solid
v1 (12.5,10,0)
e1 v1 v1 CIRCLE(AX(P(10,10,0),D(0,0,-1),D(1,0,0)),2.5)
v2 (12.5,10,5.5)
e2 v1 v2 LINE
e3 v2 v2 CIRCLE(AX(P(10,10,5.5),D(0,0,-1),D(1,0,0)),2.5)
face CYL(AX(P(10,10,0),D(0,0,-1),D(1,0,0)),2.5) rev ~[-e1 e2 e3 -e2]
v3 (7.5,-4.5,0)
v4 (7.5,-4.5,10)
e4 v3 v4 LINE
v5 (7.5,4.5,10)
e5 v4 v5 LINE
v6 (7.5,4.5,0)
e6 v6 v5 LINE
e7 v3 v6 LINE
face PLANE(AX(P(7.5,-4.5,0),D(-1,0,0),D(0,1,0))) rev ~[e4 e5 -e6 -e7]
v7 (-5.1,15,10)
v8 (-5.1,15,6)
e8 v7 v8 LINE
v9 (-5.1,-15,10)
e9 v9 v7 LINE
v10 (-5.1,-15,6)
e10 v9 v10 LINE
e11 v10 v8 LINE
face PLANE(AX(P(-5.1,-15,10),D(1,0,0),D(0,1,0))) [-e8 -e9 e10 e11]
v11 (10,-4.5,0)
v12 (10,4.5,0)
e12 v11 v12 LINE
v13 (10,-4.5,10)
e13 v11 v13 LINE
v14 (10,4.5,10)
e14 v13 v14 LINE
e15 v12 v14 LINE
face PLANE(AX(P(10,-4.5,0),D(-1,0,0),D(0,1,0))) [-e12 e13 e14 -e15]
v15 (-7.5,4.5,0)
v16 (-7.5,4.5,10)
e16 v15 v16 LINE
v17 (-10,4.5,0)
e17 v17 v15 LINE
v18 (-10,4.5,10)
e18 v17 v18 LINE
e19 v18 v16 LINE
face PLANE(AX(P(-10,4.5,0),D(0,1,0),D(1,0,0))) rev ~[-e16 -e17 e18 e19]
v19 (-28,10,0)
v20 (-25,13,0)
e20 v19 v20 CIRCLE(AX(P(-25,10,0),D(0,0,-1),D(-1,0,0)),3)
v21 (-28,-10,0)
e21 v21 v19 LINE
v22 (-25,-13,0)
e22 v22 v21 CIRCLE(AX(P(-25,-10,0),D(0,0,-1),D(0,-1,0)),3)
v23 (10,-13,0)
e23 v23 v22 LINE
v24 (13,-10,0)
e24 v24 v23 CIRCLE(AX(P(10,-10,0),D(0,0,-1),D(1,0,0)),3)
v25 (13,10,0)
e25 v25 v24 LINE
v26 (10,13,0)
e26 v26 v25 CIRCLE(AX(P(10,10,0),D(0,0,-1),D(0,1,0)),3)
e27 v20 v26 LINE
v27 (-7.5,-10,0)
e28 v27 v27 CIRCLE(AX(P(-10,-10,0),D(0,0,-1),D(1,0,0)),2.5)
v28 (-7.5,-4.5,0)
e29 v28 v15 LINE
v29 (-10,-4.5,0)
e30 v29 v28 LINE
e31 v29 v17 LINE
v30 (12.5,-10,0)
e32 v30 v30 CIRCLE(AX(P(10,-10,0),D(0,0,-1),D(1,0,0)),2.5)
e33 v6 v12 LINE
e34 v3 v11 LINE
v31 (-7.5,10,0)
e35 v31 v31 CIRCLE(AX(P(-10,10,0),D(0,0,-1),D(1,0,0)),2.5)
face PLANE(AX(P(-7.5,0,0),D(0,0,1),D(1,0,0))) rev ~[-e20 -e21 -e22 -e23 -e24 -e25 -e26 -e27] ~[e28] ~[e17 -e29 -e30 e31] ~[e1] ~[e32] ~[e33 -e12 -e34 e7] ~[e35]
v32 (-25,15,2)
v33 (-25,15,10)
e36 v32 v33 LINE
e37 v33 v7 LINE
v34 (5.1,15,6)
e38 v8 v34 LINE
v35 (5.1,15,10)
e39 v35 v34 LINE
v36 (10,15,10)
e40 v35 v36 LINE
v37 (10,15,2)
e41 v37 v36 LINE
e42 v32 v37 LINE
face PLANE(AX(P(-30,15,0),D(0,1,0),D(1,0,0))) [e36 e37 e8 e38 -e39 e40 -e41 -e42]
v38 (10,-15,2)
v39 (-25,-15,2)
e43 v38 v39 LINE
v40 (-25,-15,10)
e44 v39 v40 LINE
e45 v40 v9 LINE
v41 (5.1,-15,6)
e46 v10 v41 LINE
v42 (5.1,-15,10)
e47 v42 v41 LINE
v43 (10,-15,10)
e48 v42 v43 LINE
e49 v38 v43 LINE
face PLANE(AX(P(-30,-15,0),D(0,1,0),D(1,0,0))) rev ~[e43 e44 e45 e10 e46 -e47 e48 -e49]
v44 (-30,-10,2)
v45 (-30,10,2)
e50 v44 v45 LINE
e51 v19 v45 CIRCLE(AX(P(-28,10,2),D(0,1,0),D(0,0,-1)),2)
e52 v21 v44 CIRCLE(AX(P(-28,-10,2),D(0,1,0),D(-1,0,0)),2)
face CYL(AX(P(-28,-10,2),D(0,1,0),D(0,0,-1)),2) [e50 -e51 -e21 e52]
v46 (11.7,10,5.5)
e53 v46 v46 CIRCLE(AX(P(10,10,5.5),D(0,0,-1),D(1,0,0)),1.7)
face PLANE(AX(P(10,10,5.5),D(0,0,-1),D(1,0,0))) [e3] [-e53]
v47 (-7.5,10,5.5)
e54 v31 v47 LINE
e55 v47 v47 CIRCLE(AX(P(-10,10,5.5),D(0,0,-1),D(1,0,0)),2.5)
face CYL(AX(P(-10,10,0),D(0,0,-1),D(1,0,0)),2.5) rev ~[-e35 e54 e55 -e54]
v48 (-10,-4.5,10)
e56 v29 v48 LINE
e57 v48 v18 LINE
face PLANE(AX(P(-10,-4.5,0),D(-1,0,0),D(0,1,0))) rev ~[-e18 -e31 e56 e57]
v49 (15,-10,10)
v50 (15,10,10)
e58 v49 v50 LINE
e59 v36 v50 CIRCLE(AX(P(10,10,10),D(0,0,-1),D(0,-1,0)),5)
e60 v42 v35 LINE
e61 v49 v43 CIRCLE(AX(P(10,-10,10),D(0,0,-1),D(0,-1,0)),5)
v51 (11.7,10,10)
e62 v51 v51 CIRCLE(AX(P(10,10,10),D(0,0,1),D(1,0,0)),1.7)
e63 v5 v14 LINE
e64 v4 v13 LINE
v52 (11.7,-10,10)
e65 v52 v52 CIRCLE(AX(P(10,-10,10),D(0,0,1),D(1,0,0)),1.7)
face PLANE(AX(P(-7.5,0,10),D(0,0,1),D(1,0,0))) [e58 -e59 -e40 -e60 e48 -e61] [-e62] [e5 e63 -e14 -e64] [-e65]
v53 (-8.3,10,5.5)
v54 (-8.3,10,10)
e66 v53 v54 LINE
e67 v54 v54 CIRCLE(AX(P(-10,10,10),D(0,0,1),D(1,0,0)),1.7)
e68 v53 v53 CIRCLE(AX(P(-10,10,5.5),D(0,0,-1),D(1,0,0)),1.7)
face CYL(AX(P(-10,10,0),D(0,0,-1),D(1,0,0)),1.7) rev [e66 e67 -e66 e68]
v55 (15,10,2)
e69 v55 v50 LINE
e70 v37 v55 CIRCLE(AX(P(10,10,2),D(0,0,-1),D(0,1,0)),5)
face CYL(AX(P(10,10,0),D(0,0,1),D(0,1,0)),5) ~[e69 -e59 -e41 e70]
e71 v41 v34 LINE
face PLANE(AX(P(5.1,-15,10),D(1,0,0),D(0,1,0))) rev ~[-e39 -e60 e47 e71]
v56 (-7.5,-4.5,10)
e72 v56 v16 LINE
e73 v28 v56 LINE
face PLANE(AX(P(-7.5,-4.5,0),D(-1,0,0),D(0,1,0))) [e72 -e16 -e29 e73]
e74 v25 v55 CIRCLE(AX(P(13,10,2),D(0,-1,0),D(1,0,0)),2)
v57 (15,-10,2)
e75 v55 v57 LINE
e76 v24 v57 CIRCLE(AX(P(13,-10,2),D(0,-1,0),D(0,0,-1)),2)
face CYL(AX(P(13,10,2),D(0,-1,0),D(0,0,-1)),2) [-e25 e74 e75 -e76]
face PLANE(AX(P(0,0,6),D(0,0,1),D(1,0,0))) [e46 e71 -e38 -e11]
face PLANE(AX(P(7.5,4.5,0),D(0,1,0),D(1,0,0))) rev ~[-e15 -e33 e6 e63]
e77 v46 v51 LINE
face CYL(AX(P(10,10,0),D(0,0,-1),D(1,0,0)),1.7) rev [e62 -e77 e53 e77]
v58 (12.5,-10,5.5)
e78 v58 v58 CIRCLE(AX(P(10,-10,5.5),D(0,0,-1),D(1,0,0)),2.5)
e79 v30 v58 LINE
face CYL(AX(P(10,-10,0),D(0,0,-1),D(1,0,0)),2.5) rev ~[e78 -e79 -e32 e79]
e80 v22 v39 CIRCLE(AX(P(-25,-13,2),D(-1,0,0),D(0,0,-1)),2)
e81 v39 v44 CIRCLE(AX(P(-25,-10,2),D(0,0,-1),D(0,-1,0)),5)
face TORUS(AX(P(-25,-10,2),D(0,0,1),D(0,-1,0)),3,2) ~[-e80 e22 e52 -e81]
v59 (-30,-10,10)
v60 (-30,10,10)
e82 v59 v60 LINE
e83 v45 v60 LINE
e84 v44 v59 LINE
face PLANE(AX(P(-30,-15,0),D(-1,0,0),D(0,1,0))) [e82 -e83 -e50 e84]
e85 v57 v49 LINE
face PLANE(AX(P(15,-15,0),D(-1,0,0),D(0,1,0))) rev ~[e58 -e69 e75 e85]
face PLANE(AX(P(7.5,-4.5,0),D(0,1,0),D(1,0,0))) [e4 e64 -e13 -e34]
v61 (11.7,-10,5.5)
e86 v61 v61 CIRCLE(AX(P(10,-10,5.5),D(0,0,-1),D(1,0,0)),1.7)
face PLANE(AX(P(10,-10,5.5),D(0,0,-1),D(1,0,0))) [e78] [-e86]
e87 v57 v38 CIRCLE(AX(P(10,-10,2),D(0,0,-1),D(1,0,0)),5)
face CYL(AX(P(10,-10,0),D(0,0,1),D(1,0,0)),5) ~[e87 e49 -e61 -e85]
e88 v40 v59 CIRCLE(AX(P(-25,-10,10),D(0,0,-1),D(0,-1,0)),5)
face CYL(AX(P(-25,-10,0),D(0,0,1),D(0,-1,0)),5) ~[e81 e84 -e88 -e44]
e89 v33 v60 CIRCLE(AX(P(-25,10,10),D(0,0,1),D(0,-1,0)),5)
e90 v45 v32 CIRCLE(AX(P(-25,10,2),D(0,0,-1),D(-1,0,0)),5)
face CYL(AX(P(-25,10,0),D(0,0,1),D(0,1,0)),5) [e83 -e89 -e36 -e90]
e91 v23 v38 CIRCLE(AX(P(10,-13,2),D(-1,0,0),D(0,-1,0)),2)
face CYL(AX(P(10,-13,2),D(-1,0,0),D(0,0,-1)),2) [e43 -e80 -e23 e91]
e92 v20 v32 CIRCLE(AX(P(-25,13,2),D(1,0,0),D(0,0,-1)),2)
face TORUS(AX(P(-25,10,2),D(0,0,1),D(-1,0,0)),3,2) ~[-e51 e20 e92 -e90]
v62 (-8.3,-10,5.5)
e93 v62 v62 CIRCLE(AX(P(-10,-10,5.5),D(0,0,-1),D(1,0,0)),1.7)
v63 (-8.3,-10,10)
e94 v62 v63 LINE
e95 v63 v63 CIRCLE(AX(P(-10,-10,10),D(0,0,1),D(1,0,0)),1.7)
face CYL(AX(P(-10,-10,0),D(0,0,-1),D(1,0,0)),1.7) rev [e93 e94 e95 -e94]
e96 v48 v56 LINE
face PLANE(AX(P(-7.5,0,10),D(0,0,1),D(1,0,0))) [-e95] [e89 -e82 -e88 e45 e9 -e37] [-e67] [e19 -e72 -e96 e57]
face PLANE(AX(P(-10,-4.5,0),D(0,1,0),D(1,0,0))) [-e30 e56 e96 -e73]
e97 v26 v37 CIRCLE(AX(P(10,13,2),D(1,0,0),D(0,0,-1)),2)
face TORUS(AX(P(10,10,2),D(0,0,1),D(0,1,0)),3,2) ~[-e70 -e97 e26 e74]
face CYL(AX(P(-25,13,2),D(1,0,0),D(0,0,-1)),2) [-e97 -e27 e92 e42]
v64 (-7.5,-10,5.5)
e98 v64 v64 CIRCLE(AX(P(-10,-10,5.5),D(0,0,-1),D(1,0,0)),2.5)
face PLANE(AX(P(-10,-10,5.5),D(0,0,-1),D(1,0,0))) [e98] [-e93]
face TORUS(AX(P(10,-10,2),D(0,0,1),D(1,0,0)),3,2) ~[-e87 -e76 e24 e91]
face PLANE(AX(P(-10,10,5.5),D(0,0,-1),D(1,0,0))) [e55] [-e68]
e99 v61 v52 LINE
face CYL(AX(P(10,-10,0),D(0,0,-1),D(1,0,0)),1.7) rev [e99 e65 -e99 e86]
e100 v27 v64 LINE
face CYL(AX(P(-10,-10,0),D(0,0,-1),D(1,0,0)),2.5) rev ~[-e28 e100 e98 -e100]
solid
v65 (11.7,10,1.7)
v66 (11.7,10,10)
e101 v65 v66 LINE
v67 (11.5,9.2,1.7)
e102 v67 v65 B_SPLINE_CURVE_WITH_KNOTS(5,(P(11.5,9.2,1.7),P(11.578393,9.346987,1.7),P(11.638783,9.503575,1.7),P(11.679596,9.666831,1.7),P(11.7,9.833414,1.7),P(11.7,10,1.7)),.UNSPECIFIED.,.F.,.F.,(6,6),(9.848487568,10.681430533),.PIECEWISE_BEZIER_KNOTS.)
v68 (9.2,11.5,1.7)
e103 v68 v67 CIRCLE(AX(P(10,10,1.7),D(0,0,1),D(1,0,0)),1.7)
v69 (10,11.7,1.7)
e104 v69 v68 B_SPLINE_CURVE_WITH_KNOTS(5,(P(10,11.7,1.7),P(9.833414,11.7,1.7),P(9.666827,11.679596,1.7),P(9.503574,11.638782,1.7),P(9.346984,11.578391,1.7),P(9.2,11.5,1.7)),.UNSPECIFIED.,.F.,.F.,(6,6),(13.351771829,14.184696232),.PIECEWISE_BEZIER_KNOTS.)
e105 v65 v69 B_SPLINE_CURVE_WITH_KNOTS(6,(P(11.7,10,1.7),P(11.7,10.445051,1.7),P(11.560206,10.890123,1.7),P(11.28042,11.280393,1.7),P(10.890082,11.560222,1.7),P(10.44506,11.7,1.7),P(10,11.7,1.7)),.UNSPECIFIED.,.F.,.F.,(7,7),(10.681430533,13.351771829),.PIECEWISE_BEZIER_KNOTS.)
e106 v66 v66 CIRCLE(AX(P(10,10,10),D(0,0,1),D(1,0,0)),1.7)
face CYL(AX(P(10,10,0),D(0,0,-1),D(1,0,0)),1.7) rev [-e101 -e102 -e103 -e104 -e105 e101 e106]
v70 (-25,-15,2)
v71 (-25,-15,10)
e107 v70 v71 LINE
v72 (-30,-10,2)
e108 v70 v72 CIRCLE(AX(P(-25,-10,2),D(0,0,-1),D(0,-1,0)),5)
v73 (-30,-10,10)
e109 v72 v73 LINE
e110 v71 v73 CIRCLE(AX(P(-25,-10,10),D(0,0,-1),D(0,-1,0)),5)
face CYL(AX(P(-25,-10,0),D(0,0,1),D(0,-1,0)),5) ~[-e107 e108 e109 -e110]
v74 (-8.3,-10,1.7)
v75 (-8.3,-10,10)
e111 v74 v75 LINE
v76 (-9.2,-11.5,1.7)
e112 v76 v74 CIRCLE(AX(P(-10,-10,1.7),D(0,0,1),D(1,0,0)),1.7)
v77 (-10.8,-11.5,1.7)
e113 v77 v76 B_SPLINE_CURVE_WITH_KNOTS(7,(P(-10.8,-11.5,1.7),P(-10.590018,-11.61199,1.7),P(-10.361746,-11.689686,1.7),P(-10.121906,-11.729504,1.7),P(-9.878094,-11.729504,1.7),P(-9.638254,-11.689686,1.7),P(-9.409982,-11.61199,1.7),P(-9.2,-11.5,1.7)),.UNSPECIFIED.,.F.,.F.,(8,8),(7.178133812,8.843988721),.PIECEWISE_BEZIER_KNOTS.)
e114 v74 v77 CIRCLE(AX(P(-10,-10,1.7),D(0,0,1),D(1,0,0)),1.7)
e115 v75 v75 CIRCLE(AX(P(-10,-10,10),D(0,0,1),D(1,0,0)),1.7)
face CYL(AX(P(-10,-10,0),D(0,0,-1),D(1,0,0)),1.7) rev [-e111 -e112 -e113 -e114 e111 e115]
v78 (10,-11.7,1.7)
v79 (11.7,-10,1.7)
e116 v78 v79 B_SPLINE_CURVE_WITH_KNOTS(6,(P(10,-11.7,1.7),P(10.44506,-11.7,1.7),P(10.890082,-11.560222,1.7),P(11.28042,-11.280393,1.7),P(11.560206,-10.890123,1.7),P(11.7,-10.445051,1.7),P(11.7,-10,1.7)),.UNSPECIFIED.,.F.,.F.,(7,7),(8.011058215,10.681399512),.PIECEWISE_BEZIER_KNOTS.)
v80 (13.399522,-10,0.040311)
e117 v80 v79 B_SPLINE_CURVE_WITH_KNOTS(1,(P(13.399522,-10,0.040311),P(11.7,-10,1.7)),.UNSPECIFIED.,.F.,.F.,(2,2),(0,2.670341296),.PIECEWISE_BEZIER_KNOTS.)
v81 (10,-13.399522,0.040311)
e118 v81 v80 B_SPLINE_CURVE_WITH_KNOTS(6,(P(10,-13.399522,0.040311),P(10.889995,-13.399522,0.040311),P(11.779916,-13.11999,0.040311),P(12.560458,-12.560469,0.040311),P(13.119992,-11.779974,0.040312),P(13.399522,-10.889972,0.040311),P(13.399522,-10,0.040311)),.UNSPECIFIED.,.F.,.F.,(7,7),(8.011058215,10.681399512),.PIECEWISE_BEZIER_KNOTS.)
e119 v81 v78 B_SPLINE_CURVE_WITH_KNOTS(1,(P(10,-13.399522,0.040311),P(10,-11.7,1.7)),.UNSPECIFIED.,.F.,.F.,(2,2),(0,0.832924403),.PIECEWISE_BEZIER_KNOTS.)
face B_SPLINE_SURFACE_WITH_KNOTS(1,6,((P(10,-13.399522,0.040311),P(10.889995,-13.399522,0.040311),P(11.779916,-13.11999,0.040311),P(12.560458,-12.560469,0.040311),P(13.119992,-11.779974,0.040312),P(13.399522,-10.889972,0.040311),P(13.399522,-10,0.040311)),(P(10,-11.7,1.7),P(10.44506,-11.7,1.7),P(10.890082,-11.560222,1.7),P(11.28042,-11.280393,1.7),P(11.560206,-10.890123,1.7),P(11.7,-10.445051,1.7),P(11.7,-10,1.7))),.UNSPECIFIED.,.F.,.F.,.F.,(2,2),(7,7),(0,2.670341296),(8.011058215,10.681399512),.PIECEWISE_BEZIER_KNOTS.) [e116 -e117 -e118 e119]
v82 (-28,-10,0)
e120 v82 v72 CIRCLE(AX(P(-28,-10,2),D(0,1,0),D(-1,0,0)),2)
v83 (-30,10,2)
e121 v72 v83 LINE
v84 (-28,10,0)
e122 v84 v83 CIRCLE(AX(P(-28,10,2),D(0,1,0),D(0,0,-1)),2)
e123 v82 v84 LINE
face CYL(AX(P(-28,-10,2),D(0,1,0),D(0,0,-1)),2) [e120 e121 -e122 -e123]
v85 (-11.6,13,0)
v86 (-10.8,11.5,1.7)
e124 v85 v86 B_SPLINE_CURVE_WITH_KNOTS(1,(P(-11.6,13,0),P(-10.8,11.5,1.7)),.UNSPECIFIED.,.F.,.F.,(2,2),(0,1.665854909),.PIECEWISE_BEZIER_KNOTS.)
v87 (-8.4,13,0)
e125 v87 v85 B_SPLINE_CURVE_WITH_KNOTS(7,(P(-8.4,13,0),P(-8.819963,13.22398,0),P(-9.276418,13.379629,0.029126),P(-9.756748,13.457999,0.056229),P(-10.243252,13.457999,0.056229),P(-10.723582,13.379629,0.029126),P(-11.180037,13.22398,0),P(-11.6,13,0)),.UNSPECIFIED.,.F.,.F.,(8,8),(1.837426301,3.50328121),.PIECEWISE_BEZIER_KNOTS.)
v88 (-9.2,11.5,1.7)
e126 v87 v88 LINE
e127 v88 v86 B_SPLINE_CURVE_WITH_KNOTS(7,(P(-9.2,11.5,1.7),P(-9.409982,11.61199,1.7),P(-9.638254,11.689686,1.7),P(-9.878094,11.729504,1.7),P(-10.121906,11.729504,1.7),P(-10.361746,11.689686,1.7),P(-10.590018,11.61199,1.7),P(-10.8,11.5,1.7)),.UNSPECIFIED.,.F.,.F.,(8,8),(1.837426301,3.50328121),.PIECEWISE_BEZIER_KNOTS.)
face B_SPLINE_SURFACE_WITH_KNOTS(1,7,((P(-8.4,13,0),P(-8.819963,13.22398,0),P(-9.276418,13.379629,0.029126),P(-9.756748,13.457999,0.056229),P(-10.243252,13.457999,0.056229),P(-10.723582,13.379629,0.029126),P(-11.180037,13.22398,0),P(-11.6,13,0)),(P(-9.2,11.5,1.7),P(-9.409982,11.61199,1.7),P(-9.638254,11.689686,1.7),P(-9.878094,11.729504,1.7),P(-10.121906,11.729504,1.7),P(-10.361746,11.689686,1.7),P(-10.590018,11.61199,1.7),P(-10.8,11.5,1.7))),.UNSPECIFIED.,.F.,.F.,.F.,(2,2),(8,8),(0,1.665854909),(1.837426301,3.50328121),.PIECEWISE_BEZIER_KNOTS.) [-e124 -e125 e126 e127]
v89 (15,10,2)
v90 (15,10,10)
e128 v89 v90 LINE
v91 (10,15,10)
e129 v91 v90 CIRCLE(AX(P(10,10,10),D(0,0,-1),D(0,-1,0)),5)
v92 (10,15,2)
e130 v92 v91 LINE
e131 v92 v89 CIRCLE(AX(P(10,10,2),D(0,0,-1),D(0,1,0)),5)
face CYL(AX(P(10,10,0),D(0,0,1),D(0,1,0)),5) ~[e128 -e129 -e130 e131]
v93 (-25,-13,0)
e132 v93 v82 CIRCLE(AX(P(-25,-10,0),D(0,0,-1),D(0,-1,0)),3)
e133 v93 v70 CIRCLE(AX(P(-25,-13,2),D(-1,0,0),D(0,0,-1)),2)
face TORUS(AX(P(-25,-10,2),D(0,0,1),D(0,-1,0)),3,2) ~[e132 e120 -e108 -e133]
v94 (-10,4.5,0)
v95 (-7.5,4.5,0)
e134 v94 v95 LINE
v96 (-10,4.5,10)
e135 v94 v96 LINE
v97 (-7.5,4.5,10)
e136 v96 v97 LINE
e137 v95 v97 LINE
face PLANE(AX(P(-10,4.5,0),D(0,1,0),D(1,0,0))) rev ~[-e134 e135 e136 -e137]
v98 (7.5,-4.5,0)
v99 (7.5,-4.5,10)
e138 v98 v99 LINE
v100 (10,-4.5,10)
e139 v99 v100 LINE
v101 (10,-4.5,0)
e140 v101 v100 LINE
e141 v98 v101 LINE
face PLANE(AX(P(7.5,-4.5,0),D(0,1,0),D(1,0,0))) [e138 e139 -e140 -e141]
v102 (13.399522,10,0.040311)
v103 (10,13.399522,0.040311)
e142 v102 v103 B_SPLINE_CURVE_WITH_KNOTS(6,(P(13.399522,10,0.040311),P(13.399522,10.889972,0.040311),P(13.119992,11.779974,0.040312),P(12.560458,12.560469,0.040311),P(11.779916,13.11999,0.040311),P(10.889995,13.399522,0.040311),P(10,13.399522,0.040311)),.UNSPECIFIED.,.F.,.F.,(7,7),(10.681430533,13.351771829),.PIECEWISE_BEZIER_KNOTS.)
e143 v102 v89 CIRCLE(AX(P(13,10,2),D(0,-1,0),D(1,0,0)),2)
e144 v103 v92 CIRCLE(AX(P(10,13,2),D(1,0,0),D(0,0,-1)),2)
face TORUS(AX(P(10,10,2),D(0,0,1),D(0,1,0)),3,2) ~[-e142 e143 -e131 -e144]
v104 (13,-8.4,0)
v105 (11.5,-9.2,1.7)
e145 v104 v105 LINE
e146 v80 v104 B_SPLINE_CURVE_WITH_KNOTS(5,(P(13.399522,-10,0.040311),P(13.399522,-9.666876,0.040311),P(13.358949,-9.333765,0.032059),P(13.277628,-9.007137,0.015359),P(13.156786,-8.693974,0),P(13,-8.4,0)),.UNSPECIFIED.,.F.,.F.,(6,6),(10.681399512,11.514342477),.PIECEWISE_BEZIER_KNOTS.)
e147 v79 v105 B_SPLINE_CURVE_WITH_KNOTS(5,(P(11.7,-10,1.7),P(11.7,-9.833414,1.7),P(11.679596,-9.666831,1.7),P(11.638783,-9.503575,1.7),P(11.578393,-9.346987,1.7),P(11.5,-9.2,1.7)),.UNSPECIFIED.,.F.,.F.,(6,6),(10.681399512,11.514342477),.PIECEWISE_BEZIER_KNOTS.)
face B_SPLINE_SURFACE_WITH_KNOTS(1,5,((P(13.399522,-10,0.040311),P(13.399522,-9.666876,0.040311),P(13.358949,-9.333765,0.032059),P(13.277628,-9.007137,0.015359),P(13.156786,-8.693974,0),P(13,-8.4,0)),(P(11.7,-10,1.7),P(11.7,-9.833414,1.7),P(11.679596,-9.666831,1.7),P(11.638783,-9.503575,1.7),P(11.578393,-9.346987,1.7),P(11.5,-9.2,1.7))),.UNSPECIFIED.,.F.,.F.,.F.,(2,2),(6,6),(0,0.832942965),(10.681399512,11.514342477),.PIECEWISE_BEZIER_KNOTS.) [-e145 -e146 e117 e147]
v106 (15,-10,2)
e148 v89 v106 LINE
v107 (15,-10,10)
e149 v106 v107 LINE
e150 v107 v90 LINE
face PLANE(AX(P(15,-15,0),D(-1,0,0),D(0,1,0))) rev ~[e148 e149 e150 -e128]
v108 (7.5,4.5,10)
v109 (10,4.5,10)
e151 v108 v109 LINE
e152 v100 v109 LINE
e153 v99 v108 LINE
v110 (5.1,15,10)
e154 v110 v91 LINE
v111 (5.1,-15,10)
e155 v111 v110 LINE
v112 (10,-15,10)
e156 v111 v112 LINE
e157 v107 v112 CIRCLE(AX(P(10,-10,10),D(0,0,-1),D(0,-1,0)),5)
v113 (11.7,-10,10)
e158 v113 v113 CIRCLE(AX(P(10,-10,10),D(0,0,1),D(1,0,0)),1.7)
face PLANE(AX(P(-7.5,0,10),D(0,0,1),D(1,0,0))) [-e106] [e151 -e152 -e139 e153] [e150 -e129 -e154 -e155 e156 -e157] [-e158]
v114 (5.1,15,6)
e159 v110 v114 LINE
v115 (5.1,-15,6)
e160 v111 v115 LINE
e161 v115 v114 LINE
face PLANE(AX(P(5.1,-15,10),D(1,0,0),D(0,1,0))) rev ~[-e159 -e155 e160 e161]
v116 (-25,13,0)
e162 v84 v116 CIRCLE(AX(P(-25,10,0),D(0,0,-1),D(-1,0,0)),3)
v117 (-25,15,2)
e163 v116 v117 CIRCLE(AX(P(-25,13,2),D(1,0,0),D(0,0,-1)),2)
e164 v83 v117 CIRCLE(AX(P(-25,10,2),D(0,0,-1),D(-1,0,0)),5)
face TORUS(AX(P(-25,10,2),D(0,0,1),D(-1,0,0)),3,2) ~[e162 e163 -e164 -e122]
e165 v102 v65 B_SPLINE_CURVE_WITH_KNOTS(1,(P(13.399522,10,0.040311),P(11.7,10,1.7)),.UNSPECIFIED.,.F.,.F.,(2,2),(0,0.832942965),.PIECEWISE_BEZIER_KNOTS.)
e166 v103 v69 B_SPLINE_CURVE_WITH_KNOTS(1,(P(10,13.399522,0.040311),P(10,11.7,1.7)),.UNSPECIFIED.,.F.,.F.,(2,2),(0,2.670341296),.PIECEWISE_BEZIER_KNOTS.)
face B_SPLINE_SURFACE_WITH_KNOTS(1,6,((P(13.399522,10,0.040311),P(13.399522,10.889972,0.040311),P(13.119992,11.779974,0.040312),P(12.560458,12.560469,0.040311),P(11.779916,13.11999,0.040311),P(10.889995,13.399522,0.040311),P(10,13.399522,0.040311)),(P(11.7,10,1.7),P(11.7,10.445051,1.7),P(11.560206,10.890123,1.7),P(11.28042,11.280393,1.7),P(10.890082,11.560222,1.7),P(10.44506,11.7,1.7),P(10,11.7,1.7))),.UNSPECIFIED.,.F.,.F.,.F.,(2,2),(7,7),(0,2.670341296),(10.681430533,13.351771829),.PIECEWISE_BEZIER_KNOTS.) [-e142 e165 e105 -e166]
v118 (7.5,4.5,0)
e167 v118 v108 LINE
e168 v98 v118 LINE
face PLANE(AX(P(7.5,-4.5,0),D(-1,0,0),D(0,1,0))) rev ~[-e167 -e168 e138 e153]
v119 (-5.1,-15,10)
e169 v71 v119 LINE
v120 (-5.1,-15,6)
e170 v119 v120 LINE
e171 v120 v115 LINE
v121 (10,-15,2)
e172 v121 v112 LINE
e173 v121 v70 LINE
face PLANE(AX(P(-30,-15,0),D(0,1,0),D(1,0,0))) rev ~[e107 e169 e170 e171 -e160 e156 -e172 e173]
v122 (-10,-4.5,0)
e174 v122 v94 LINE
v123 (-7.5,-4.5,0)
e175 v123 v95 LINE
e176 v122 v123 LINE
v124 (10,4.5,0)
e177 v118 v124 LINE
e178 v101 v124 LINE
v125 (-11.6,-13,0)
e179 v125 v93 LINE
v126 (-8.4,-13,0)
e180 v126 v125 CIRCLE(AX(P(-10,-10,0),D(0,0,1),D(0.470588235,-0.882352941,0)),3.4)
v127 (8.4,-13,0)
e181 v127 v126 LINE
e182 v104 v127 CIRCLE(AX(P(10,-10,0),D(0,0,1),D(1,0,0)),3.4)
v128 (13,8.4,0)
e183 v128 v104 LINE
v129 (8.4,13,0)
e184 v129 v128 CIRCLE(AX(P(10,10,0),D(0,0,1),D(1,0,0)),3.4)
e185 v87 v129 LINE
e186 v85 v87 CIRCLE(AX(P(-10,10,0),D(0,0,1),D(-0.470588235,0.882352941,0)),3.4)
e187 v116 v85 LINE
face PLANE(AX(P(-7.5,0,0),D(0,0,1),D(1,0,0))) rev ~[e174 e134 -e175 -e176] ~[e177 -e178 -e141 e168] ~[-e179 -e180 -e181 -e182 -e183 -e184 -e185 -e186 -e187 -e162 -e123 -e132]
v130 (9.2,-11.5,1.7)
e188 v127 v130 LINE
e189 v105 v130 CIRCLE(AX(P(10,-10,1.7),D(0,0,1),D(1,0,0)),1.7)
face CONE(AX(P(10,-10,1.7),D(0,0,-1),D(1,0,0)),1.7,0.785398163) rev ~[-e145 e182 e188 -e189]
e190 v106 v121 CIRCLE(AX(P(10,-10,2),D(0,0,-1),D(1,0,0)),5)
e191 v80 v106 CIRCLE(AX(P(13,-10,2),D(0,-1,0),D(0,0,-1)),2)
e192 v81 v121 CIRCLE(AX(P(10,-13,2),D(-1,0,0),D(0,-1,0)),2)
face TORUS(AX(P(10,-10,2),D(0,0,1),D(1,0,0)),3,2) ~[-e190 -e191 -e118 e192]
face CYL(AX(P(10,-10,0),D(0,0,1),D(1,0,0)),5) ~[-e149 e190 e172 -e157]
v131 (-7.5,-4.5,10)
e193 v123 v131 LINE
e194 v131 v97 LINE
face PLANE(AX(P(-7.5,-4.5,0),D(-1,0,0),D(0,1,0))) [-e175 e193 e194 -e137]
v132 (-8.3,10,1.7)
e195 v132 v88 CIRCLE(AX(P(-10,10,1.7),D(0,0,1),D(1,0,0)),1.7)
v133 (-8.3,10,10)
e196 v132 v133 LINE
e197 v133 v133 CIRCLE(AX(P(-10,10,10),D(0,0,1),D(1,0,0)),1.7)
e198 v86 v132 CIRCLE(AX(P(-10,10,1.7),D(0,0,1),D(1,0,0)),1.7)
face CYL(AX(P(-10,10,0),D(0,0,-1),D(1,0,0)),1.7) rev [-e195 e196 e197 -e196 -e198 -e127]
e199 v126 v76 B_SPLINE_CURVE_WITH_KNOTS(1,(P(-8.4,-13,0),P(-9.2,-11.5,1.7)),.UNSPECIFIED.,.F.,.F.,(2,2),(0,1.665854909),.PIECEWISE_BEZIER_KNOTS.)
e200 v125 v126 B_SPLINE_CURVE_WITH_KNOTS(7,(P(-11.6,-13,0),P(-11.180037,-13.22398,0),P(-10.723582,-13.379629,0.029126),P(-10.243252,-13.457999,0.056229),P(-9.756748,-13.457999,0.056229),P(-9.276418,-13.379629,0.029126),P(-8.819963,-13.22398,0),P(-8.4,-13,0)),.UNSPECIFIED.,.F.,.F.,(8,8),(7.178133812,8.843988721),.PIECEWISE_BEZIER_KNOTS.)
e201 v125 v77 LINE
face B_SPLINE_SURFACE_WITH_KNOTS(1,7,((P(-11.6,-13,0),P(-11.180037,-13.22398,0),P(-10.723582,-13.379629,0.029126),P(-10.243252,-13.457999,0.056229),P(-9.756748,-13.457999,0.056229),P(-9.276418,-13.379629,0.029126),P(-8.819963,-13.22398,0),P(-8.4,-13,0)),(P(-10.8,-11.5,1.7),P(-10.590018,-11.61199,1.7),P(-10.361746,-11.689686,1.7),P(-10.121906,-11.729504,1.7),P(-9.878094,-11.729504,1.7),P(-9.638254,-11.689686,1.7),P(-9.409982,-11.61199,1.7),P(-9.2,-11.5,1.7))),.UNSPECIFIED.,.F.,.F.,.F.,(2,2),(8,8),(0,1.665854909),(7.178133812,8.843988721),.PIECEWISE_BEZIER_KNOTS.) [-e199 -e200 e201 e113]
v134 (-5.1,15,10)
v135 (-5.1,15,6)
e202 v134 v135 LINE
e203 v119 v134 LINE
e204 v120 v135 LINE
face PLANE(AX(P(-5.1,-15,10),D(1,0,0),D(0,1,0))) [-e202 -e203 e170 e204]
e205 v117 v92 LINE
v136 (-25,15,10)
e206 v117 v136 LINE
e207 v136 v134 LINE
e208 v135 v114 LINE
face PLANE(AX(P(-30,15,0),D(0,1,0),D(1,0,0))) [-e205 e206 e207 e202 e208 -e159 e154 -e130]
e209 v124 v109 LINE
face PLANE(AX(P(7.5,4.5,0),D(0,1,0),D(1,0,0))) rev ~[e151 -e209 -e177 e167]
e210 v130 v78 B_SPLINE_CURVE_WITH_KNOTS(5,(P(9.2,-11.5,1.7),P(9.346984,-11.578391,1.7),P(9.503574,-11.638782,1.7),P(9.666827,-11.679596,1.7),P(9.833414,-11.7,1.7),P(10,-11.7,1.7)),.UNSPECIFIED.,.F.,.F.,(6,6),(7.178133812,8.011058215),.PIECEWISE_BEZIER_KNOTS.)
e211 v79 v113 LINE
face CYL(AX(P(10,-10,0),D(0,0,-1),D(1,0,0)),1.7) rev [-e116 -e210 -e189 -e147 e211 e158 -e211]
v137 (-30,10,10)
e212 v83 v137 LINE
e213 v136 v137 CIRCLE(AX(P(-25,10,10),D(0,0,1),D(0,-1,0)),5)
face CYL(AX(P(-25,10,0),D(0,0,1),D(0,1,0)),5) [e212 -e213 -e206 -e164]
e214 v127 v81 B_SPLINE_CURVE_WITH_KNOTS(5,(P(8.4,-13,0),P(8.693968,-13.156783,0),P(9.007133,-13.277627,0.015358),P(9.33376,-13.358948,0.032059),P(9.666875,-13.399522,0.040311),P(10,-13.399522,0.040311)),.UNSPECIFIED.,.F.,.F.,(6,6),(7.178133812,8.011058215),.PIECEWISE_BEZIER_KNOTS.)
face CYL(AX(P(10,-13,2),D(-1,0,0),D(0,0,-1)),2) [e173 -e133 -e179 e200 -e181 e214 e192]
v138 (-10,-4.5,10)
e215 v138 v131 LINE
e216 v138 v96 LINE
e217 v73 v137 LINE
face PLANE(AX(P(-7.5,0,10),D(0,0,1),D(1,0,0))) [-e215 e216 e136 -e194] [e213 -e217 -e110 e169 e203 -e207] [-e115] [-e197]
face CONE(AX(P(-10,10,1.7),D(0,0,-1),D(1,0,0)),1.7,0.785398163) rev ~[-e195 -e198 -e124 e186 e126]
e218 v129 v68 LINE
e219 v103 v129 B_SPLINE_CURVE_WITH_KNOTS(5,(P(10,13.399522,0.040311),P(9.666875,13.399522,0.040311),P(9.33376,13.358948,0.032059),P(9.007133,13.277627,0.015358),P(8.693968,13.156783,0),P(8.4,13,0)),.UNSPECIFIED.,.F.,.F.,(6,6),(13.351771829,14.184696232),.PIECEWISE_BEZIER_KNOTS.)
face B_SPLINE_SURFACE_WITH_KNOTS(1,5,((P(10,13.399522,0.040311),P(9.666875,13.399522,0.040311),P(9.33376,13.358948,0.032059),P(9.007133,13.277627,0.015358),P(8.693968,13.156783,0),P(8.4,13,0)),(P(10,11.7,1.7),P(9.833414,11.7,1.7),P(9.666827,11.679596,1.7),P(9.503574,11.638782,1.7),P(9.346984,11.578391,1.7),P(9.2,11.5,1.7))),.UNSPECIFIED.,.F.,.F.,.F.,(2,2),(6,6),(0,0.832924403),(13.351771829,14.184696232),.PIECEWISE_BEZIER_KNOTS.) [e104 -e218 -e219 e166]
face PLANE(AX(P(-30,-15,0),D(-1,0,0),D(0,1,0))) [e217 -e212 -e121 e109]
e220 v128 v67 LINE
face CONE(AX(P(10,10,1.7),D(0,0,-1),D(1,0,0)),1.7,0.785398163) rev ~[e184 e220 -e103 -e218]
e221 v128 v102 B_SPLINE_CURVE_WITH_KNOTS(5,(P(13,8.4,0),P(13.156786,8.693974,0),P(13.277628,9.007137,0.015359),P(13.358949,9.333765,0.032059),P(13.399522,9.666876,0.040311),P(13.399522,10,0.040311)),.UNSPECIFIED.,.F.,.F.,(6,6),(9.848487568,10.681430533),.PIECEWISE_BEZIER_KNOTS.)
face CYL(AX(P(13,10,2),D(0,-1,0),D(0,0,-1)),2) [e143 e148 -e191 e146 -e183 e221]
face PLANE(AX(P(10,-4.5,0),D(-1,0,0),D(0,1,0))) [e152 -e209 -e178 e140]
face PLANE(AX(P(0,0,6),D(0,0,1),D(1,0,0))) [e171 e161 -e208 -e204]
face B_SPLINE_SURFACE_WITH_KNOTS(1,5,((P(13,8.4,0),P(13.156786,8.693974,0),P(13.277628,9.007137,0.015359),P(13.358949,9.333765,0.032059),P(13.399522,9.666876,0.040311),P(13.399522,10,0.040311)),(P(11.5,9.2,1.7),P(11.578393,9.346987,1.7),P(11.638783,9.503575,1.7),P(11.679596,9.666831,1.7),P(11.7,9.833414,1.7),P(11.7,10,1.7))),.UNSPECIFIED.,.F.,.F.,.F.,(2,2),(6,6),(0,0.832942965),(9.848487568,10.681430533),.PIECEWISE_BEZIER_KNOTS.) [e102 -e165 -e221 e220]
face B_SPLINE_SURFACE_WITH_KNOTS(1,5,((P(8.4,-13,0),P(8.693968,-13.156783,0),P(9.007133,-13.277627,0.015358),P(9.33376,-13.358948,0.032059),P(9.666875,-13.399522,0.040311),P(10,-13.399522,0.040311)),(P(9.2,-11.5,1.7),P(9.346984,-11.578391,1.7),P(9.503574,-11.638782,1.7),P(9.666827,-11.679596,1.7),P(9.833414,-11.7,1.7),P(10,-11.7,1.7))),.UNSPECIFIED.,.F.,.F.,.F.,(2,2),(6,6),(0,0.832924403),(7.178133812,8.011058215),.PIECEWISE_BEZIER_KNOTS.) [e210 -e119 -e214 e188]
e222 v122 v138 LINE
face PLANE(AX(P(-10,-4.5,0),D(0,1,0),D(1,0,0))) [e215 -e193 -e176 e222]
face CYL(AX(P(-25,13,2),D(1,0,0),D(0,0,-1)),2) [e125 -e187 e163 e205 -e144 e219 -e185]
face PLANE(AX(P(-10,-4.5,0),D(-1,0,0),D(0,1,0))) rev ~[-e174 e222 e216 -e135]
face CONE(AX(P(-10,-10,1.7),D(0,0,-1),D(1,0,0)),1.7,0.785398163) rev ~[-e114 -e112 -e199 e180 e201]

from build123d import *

# Parameters (mm, degrees)
SKETCH_W        = 45
SKETCH_H        = 30
SKETCH_R        = 1.7
SKETCH_W_2      = 2.5
SKETCH_H_2      = 9
PAD_DEPTH       = 10
SKETCH001_W     = 10.2
SKETCH001_H     = 30
POCKET_DEPTH    = 4
FILLET_R        = 5
FILLET001_R     = 5
FILLET002_R     = 5
FILLET003_R     = 5
FILLET004_R     = 2
CHAMFER_SIZE    = 1.7
CHAMFER001_SIZE = 1.7
CHAMFER002_SIZE = 1.7
CHAMFER003_SIZE = 1.7
SKETCH002_R     = 2.5
POCKET001_DEPTH = 5.5


with BuildPart() as finalab:
    # Sketch → Pad (new body)
    with BuildSketch(Plane.XY):
        with Locations((-7.5, 0)):
            Rectangle(SKETCH_W, SKETCH_H)
        with Locations((-10, 10)):
            Circle(SKETCH_R, mode=Mode.SUBTRACT)
        with Locations((-10, -10)):
            Circle(SKETCH_R, mode=Mode.SUBTRACT)
        with Locations((10, 10)):
            Circle(SKETCH_R, mode=Mode.SUBTRACT)
        with Locations((10, -10)):
            Circle(SKETCH_R, mode=Mode.SUBTRACT)
        with Locations((-8.75, 0)):
            Rectangle(SKETCH_W_2, SKETCH_H_2, mode=Mode.SUBTRACT)
        with Locations((8.75, 0)):
            Rectangle(SKETCH_W_2, SKETCH_H_2, mode=Mode.SUBTRACT)
    extrude(amount=PAD_DEPTH)

    # Sketch001 → Pocket (cut)
    with BuildSketch(Plane.XY.offset(10)):
        Rectangle(SKETCH001_W, SKETCH001_H)
    extrude(amount=-POCKET_DEPTH, mode=Mode.SUBTRACT)

    # Fillet
    fillet_edges = [finalab.edges().sort_by_distance(p)[0] for p in [
        (15, 15, 5),
    ]]
    fillet(fillet_edges, radius=FILLET_R)

    # Fillet001
    fillet001_edges = [finalab.edges().sort_by_distance(p)[0] for p in [
        (-30, 15, 5),
    ]]
    fillet(fillet001_edges, radius=FILLET001_R)

    # Fillet002
    fillet002_edges = [finalab.edges().sort_by_distance(p)[0] for p in [
        (15, -15, 5),
    ]]
    fillet(fillet002_edges, radius=FILLET002_R)

    # Fillet003
    fillet003_edges = [finalab.edges().sort_by_distance(p)[0] for p in [
        (-30, -15, 5),
    ]]
    fillet(fillet003_edges, radius=FILLET003_R)

    # Fillet004
    fillet004_edges = [finalab.edges().sort_by_distance(p)[0] for p in [
        (-7.5, 15, 0),
    ]]
    fillet(fillet004_edges, radius=FILLET004_R)


with BuildPart() as finala:
    # Chamfer base: copy of FinalAB
    add(finalab.part)

    # Chamfer
    chamfer_edges = [finala.edges().sort_by_distance(p)[0] for p in [
        (8.3, -10, 0),
    ]]
    chamfer(chamfer_edges, length=CHAMFER_SIZE)

    # Chamfer001
    chamfer001_edges = [finala.edges().sort_by_distance(p)[0] for p in [
        (8.3, 10, 0),
    ]]
    chamfer(chamfer001_edges, length=CHAMFER001_SIZE)

    # Chamfer002
    chamfer002_edges = [finala.edges().sort_by_distance(p)[0] for p in [
        (-11.7, -10, 0),
    ]]
    chamfer(chamfer002_edges, length=CHAMFER002_SIZE)

    # Chamfer003
    chamfer003_edges = [finala.edges().sort_by_distance(p)[0] for p in [
        (-11.7, 10, 0),
    ]]
    chamfer(chamfer003_edges, length=CHAMFER003_SIZE)


with BuildPart() as finalb:
    # Pocket001 base: copy of FinalAB
    add(finalab.part)

    # Sketch002 → Pocket001 (cut)
    with BuildSketch(Plane(origin=(0, 0, 0), x_dir=(1, 0, 0), z_dir=(0, 0, -1))):
        with Locations((-10, 10)):
            Circle(SKETCH002_R)
        with Locations((10, 10)):
            Circle(SKETCH002_R)
        with Locations((10, -10)):
            Circle(SKETCH002_R)
        with Locations((-10, -10)):
            Circle(SKETCH002_R)
    extrude(amount=-POCKET001_DEPTH, mode=Mode.SUBTRACT)


solid = Compound([finala.part, finalb.part])
